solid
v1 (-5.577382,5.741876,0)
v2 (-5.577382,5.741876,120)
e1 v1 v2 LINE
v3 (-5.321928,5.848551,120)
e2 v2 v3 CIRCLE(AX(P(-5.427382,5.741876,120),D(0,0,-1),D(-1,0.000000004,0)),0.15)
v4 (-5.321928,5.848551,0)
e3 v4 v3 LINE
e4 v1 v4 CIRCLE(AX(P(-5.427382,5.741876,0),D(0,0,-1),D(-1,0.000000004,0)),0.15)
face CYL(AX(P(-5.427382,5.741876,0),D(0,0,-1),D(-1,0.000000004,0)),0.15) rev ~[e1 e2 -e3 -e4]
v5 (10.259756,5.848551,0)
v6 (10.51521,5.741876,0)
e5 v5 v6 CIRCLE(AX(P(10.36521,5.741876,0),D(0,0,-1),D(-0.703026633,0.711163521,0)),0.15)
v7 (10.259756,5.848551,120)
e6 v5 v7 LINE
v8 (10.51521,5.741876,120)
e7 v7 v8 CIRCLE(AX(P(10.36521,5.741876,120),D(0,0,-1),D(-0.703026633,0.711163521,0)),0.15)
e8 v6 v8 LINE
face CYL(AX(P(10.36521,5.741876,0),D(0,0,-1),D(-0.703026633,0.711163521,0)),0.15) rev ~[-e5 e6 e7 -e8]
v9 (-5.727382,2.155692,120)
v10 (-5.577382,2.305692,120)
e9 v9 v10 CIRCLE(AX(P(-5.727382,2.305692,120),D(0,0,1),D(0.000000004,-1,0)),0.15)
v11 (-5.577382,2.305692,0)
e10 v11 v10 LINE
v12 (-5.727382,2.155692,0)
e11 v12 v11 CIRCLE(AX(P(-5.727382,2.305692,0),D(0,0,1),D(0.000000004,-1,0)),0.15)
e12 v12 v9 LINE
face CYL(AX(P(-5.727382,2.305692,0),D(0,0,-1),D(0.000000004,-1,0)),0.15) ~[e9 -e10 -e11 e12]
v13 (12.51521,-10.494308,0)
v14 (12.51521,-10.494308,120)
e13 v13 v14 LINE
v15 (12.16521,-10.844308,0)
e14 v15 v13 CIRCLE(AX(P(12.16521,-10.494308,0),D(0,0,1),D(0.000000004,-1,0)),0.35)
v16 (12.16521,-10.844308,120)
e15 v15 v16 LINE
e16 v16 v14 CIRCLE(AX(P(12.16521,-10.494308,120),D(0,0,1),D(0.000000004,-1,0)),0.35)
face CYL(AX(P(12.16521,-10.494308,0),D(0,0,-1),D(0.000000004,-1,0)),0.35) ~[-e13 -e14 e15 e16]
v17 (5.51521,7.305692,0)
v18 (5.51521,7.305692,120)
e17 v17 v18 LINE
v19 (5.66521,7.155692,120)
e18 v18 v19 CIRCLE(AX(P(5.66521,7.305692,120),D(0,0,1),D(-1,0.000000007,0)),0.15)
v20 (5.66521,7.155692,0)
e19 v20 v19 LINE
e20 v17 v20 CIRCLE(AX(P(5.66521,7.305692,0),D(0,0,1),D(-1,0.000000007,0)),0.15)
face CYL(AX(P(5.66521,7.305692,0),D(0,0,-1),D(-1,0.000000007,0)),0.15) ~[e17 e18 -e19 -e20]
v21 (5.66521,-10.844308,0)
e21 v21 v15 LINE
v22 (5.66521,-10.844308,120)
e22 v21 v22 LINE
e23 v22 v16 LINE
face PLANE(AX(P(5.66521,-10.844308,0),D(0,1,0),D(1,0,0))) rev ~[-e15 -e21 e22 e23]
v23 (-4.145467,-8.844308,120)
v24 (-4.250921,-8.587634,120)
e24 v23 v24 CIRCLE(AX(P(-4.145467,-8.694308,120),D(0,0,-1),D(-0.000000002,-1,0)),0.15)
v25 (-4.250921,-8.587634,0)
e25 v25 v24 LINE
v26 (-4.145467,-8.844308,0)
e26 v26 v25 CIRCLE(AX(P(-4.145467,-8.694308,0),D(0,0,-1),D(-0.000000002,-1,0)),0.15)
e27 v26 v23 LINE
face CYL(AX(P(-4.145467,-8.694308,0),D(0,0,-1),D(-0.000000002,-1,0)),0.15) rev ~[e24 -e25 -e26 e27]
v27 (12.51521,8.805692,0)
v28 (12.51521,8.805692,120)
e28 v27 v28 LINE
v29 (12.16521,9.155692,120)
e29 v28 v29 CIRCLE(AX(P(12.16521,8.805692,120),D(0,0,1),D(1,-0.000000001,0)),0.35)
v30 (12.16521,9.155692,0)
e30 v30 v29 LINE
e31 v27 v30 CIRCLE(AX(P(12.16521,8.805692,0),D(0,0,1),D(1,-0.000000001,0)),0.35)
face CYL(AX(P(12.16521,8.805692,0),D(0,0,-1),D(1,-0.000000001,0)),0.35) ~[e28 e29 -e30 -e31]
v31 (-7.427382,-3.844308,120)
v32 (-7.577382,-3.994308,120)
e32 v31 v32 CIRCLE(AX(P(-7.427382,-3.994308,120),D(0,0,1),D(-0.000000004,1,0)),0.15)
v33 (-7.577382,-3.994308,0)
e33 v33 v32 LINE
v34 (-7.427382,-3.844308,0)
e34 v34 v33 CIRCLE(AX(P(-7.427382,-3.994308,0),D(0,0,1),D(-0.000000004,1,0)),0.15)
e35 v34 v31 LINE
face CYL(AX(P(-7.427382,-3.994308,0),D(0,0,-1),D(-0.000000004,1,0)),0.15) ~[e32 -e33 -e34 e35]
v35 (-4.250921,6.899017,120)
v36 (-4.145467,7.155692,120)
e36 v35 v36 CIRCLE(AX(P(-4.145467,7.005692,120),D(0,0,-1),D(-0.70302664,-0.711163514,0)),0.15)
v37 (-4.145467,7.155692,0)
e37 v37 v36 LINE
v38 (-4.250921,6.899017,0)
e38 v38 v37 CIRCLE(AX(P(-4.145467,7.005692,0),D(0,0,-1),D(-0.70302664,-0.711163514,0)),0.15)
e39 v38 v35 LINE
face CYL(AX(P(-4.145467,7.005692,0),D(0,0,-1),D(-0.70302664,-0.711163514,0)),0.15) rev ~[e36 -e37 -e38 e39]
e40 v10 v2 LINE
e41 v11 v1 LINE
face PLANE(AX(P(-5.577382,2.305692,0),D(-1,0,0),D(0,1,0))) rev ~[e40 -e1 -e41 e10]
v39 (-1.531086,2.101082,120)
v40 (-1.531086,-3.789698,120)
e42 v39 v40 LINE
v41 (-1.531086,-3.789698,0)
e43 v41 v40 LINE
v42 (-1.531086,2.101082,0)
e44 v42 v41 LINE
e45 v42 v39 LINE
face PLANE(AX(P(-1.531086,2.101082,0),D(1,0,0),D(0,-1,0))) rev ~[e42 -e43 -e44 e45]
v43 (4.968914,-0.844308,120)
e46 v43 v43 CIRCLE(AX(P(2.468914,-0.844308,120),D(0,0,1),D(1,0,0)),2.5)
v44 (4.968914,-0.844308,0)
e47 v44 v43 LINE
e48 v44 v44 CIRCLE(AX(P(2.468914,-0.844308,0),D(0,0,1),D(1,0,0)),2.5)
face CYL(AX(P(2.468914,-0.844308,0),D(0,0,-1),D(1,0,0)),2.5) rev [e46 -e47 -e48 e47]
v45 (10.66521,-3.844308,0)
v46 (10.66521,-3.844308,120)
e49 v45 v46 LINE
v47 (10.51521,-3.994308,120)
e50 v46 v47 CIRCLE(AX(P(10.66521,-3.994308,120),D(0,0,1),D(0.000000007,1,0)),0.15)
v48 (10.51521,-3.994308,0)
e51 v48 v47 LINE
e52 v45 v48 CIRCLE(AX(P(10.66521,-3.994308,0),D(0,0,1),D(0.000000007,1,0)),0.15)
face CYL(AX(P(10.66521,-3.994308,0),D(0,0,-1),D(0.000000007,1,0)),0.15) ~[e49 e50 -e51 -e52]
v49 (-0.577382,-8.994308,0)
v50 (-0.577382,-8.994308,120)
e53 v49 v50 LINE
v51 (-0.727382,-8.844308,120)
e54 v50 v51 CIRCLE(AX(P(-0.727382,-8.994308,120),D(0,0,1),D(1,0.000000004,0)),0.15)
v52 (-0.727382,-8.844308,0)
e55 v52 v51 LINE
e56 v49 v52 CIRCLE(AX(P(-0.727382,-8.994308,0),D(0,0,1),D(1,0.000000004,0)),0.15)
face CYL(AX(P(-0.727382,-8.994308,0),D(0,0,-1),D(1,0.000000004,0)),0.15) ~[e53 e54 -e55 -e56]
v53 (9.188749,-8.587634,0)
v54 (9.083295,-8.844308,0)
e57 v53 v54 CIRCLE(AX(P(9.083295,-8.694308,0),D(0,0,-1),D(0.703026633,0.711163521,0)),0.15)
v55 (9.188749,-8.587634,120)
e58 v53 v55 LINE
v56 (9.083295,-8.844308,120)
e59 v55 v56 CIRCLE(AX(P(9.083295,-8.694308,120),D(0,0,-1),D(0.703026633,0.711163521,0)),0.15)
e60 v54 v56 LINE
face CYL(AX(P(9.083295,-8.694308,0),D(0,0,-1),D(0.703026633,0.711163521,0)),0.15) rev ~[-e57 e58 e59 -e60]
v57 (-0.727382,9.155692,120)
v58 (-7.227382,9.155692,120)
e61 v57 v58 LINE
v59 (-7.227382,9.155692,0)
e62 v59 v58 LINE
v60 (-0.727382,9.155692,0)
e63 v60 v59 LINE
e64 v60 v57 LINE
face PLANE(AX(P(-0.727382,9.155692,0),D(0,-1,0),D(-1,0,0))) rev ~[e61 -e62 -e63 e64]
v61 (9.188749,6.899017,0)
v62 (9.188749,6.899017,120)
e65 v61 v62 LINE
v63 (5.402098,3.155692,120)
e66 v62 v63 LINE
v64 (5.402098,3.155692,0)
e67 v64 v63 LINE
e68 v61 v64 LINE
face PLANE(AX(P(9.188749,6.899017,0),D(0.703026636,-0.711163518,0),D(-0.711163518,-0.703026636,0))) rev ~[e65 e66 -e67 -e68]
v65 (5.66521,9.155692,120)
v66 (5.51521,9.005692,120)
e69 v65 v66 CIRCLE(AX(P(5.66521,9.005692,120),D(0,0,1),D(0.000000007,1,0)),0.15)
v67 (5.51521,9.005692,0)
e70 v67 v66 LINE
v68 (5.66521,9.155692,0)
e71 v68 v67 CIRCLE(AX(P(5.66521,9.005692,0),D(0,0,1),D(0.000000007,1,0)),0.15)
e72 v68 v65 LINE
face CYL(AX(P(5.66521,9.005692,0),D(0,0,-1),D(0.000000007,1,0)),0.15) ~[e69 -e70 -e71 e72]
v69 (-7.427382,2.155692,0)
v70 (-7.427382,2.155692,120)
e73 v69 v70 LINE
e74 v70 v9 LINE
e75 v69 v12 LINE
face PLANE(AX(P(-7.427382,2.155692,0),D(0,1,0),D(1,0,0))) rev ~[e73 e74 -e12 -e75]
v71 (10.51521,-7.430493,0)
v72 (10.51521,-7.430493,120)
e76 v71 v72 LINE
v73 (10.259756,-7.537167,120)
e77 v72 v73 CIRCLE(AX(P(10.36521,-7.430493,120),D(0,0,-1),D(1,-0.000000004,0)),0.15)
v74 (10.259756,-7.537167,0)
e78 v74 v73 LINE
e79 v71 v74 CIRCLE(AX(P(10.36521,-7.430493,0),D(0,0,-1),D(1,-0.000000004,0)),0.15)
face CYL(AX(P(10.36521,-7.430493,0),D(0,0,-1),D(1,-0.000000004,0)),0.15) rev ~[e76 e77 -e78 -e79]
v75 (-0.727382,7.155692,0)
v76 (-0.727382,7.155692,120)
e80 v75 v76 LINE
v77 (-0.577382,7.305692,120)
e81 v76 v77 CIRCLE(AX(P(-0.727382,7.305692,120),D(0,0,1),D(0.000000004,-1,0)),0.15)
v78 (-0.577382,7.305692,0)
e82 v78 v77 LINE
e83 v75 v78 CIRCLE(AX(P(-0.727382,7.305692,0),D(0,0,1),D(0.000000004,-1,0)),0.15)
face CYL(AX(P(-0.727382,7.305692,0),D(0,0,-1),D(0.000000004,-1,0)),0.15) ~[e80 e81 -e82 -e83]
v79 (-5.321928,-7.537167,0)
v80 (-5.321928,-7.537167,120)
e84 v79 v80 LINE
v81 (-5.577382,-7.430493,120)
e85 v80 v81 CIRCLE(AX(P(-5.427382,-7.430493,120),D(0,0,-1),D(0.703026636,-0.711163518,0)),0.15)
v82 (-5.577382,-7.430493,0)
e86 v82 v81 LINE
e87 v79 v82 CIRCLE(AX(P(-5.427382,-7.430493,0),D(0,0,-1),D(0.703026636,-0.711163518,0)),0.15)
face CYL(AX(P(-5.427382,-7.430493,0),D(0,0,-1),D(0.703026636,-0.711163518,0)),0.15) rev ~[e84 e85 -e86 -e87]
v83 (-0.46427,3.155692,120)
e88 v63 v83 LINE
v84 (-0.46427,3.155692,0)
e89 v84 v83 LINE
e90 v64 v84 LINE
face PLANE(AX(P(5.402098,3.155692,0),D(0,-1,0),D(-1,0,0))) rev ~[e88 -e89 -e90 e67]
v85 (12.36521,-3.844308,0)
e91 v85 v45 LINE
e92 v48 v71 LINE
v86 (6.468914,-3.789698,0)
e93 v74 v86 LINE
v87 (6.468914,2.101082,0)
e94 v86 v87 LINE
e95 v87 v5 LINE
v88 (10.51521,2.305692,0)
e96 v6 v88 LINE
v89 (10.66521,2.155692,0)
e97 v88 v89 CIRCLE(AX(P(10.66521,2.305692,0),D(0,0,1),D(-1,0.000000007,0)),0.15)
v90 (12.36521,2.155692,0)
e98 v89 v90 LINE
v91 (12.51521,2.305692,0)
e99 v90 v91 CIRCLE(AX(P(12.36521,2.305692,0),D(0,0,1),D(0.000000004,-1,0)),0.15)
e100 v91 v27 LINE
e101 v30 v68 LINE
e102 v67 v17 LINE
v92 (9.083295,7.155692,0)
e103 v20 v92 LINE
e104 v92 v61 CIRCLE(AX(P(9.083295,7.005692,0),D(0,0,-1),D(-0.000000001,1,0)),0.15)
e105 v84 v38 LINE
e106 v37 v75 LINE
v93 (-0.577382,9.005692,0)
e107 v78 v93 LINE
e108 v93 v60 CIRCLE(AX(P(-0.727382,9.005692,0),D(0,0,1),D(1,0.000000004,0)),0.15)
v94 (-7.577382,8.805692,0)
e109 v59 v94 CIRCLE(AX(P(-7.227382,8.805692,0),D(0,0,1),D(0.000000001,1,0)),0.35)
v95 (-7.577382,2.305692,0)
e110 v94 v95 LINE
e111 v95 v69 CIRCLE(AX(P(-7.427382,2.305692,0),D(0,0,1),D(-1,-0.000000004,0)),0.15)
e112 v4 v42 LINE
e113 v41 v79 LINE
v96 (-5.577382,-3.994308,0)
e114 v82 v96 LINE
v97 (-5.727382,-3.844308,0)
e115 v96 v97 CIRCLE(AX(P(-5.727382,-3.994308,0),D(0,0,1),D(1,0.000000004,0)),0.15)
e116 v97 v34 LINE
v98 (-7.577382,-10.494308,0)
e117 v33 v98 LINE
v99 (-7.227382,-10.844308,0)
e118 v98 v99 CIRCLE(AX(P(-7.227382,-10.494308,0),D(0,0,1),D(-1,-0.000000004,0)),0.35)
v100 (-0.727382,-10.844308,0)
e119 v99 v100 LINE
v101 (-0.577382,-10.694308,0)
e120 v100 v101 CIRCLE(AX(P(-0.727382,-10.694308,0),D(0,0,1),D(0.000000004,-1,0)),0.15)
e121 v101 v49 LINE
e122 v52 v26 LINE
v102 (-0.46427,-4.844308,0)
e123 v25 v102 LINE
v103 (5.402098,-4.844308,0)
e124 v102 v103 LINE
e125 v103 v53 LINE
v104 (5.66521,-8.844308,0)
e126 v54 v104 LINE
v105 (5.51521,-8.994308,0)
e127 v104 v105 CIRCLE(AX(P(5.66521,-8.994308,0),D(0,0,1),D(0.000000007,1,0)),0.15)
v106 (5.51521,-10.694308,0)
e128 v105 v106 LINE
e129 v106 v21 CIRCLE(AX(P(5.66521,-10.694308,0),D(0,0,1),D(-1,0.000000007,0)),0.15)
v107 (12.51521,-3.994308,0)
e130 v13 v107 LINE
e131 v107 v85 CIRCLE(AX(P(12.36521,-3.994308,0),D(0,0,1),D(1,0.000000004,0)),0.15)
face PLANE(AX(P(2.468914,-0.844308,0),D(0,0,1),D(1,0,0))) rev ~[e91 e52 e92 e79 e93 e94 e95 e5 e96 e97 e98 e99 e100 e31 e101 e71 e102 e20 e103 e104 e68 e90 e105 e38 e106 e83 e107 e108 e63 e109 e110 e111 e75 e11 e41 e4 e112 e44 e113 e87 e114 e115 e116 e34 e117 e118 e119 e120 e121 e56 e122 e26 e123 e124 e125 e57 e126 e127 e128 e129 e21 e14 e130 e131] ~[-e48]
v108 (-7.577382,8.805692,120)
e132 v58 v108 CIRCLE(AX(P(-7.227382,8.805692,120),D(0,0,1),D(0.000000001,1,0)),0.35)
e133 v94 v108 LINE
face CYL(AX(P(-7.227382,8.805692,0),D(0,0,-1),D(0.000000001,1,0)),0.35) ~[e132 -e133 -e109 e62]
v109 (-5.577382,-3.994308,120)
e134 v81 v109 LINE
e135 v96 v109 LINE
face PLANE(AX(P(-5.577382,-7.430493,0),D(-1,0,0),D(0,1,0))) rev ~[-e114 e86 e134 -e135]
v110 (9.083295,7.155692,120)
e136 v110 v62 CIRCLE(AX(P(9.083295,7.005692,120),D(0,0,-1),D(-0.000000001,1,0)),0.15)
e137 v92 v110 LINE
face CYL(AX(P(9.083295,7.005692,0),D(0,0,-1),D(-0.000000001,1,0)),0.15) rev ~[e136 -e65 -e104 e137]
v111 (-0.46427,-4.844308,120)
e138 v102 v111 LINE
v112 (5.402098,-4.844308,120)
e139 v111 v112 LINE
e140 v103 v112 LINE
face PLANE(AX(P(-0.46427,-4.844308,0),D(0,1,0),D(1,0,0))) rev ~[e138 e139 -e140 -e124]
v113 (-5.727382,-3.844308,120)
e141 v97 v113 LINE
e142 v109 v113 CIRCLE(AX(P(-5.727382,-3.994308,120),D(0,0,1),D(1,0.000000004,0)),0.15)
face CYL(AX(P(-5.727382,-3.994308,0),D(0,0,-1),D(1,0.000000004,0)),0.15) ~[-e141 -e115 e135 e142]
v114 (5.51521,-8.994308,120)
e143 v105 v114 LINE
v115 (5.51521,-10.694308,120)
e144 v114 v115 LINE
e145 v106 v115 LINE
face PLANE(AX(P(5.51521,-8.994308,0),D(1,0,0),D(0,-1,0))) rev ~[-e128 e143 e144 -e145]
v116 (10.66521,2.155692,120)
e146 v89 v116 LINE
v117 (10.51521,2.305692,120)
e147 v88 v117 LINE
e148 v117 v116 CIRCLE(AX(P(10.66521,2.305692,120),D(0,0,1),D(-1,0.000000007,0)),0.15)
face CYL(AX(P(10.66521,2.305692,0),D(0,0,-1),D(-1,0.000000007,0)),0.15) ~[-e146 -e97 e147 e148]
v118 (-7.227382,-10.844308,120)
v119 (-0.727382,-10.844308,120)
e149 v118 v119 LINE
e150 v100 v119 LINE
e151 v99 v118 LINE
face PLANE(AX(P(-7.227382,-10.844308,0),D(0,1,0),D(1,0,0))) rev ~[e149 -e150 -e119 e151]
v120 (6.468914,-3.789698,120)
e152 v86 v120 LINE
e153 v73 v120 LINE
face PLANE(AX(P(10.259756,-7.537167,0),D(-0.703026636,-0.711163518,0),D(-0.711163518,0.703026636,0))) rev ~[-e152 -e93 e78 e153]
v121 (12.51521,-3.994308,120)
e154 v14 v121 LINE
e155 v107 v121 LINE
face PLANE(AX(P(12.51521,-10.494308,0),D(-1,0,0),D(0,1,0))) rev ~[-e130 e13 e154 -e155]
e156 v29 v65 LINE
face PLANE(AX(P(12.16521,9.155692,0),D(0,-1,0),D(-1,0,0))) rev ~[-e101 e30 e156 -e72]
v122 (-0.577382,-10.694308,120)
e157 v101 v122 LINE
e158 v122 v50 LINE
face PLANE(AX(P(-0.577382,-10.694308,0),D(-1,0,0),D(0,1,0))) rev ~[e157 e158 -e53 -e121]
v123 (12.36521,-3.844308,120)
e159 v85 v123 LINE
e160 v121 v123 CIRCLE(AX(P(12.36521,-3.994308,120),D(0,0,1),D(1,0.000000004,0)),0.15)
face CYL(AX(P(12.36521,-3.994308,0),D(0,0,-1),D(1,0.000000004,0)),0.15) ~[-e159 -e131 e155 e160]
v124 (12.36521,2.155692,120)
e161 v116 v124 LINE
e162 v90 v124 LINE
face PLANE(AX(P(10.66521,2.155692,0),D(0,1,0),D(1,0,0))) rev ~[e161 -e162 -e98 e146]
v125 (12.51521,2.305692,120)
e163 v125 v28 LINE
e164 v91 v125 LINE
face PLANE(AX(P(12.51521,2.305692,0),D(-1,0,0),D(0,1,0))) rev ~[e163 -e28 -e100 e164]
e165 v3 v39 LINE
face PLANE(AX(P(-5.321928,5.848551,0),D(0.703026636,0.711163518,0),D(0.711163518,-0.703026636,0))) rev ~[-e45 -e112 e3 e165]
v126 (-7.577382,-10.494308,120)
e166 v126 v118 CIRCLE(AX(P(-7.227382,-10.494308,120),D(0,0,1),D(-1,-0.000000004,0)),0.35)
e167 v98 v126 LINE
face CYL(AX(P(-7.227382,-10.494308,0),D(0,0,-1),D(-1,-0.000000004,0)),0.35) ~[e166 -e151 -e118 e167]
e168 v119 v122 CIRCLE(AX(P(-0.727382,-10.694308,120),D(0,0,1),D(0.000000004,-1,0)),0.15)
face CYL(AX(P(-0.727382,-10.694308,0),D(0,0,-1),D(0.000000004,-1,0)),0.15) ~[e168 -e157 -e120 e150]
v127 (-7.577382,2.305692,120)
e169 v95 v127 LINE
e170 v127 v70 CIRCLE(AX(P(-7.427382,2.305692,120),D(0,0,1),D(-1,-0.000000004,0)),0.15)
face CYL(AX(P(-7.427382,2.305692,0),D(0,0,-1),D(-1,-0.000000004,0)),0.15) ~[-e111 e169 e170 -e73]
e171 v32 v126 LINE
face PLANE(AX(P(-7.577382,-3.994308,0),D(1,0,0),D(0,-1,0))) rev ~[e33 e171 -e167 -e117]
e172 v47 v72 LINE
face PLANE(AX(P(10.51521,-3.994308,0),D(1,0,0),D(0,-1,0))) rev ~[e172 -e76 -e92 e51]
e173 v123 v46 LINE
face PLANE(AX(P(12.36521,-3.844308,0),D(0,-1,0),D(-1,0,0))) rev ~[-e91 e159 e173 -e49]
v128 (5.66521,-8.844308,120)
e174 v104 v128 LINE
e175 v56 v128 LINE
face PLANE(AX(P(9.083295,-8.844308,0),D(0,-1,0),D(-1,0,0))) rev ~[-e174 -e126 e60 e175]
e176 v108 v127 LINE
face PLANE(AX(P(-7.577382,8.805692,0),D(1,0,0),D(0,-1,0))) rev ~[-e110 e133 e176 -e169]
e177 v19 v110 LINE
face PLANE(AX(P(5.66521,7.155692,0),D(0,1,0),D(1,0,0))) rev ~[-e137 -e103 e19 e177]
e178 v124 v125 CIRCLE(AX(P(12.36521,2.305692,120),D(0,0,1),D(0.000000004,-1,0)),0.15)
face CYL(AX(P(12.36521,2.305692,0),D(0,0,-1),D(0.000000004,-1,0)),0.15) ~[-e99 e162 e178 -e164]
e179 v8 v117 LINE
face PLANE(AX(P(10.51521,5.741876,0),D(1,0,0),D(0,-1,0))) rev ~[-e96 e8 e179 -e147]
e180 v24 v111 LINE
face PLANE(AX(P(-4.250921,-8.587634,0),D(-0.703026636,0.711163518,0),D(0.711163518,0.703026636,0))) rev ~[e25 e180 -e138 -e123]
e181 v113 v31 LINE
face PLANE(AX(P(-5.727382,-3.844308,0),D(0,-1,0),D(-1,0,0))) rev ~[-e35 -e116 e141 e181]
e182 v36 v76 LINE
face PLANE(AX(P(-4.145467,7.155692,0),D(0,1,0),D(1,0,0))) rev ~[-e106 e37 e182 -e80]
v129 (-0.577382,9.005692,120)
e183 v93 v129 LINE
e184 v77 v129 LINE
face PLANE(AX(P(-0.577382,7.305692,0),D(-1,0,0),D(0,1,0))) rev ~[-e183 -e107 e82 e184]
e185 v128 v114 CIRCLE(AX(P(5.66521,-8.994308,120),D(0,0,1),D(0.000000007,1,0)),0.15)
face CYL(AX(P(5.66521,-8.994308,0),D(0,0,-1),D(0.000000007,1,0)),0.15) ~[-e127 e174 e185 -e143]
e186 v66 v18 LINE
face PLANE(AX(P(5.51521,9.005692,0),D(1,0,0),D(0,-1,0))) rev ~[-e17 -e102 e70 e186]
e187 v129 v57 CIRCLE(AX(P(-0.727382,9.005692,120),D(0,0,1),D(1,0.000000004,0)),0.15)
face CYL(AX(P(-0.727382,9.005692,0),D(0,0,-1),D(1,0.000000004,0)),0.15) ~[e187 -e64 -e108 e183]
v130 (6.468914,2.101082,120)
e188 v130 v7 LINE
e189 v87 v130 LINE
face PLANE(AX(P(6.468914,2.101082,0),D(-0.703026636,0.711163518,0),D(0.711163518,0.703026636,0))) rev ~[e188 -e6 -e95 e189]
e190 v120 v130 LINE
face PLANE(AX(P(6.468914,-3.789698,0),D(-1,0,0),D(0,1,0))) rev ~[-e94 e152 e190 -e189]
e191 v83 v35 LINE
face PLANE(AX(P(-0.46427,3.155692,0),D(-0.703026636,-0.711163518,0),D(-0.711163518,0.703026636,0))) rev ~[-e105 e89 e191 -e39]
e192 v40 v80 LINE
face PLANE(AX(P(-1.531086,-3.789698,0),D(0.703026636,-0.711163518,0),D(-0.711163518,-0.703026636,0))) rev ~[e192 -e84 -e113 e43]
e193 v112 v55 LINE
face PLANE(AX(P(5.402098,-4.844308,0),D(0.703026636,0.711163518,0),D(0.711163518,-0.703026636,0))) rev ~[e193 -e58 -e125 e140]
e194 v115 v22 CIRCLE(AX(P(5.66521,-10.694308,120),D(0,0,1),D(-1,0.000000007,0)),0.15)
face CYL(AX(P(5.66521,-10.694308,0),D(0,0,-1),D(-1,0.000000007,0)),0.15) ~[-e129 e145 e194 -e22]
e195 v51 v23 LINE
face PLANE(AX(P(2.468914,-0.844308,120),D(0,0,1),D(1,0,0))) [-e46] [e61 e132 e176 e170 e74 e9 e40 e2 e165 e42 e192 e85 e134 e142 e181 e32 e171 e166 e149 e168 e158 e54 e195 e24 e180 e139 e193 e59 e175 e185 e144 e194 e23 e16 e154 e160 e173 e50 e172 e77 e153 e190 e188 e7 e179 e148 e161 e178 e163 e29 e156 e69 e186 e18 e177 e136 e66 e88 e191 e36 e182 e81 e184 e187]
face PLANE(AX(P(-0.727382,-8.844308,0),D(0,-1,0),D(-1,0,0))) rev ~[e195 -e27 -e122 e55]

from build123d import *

# Parameters (mm, degrees)
SKETCH1_R           = 2.5
BOSS_EXTRUDE1_DEPTH = 120


with BuildPart() as part:
    # Sketch1 → Boss-Extrude1 (new body)
    with BuildSketch(Plane.XY):
        with BuildLine():
            Line((-7.427382464, 2.155691805), (-5.727382464, 2.155691805))
            ThreePointArc((-5.727382464, 2.155691805), (-5.621316447, 2.199625788), (-5.577382464, 2.305691805))
            Line((-5.577382464, 2.305691805), (-5.577382464, 5.741876319))
            ThreePointArc((-5.577382464, 5.741876319), (-5.485183419, 5.880292537), (-5.321928469, 5.848550846))
            Line((-5.321928469, 5.848550846), (-1.531086168, 2.101082027))
            Line((-1.531086168, 2.101082027), (-1.531086168, -3.789698417))
            Line((-1.531086168, -3.789698417), (-5.321928469, -7.537167236))
            ThreePointArc((-5.321928469, -7.537167236), (-5.485183419, -7.568908927), (-5.577382464, -7.430492708))
            Line((-5.577382464, -7.430492708), (-5.577382464, -3.994308195))
            ThreePointArc((-5.577382464, -3.994308195), (-5.621316447, -3.888242178), (-5.727382464, -3.844308195))
            Line((-5.727382464, -3.844308195), (-7.427382464, -3.844308195))
            ThreePointArc((-7.427382464, -3.844308195), (-7.533448481, -3.888242178), (-7.577382464, -3.994308195))
            Line((-7.577382464, -3.994308195), (-7.577382464, -10.494308195))
            ThreePointArc((-7.577382464, -10.494308195), (-7.474869837, -10.741795568), (-7.227382464, -10.844308195))
            Line((-7.227382464, -10.844308195), (-0.727382464, -10.844308195))
            ThreePointArc((-0.727382464, -10.844308195), (-0.621316447, -10.800374212), (-0.577382464, -10.694308195))
            Line((-0.577382464, -10.694308195), (-0.577382464, -8.994308195))
            ThreePointArc((-0.577382464, -8.994308195), (-0.621316447, -8.888242178), (-0.727382464, -8.844308195))
            Line((-0.727382464, -8.844308195), (-4.145467261, -8.844308195))
            ThreePointArc((-4.145467261, -8.844308195), (-4.284213755, -8.751311795), (-4.250921257, -8.587633667))
            Line((-4.250921257, -8.587633667), (-0.464270258, -4.844308195))
            Line((-0.464270258, -4.844308195), (5.402097922, -4.844308195))
            Line((5.402097922, -4.844308195), (9.188748921, -8.587633667))
            ThreePointArc((9.188748921, -8.587633667), (9.22204142, -8.751311795), (9.083294926, -8.844308195))
            Line((9.083294926, -8.844308195), (5.665210129, -8.844308195))
            ThreePointArc((5.665210129, -8.844308195), (5.559144111, -8.888242178), (5.515210129, -8.994308195))
            Line((5.515210129, -8.994308195), (5.515210129, -10.694308195))
            ThreePointArc((5.515210129, -10.694308195), (5.559144111, -10.800374212), (5.665210129, -10.844308195))
            Line((5.665210129, -10.844308195), (12.165210129, -10.844308195))
            ThreePointArc((12.165210129, -10.844308195), (12.412697502, -10.741795568), (12.515210129, -10.494308195))
            Line((12.515210129, -10.494308195), (12.515210129, -3.994308195))
            ThreePointArc((12.515210129, -3.994308195), (12.471276146, -3.888242178), (12.365210129, -3.844308195))
            Line((12.365210129, -3.844308195), (10.665210129, -3.844308195))
            ThreePointArc((10.665210129, -3.844308195), (10.559144111, -3.888242178), (10.515210129, -3.994308195))
            Line((10.515210129, -3.994308195), (10.515210129, -7.430492708))
            ThreePointArc((10.515210129, -7.430492708), (10.423011083, -7.568908927), (10.259756133, -7.537167236))
            Line((10.259756133, -7.537167236), (6.468913832, -3.789698417))
            Line((6.468913832, -3.789698417), (6.468913832, 2.101082027))
            Line((6.468913832, 2.101082027), (10.259756133, 5.848550846))
            ThreePointArc((10.259756133, 5.848550846), (10.423011083, 5.880292537), (10.515210129, 5.741876319))
            Line((10.515210129, 5.741876319), (10.515210129, 2.305691805))
            ThreePointArc((10.515210129, 2.305691805), (10.559144111, 2.199625788), (10.665210129, 2.155691805))
            Line((10.665210129, 2.155691805), (12.365210129, 2.155691805))
            ThreePointArc((12.365210129, 2.155691805), (12.471276146, 2.199625788), (12.515210129, 2.305691805))
            Line((12.515210129, 2.305691805), (12.515210129, 8.805691805))
            ThreePointArc((12.515210129, 8.805691805), (12.412697502, 9.053179179), (12.165210129, 9.155691805))
            Line((12.165210129, 9.155691805), (5.665210129, 9.155691805))
            ThreePointArc((5.665210129, 9.155691805), (5.559144111, 9.111757822), (5.515210129, 9.005691805))
            Line((5.515210129, 9.005691805), (5.515210129, 7.305691805))
            ThreePointArc((5.515210129, 7.305691805), (5.559144111, 7.199625788), (5.665210129, 7.155691805))
            Line((5.665210129, 7.155691805), (9.083294926, 7.155691805))
            ThreePointArc((9.083294926, 7.155691805), (9.22204142, 7.062695405), (9.188748921, 6.899017277))
            Line((9.188748921, 6.899017277), (5.402097922, 3.155691805))
            Line((5.402097922, 3.155691805), (-0.464270258, 3.155691805))
            Line((-0.464270258, 3.155691805), (-4.250921257, 6.899017277))
            ThreePointArc((-4.250921257, 6.899017277), (-4.284213755, 7.062695405), (-4.145467261, 7.155691805))
            Line((-4.145467261, 7.155691805), (-0.727382464, 7.155691805))
            ThreePointArc((-0.727382464, 7.155691805), (-0.621316447, 7.199625788), (-0.577382464, 7.305691805))
            Line((-0.577382464, 7.305691805), (-0.577382464, 9.005691805))
            ThreePointArc((-0.577382464, 9.005691805), (-0.621316447, 9.111757822), (-0.727382464, 9.155691805))
            Line((-0.727382464, 9.155691805), (-7.227382464, 9.155691805))
            ThreePointArc((-7.227382464, 9.155691805), (-7.474869837, 9.053179179), (-7.577382464, 8.805691805))
            Line((-7.577382464, 8.805691805), (-7.577382464, 2.305691805))
            ThreePointArc((-7.577382464, 2.305691805), (-7.533448481, 2.199625788), (-7.427382464, 2.155691805))
        make_face()
        with Locations((2.468913832, -0.844308195)):
            Circle(SKETCH1_R, mode=Mode.SUBTRACT)
    extrude(amount=BOSS_EXTRUDE1_DEPTH)


solid = part.part
